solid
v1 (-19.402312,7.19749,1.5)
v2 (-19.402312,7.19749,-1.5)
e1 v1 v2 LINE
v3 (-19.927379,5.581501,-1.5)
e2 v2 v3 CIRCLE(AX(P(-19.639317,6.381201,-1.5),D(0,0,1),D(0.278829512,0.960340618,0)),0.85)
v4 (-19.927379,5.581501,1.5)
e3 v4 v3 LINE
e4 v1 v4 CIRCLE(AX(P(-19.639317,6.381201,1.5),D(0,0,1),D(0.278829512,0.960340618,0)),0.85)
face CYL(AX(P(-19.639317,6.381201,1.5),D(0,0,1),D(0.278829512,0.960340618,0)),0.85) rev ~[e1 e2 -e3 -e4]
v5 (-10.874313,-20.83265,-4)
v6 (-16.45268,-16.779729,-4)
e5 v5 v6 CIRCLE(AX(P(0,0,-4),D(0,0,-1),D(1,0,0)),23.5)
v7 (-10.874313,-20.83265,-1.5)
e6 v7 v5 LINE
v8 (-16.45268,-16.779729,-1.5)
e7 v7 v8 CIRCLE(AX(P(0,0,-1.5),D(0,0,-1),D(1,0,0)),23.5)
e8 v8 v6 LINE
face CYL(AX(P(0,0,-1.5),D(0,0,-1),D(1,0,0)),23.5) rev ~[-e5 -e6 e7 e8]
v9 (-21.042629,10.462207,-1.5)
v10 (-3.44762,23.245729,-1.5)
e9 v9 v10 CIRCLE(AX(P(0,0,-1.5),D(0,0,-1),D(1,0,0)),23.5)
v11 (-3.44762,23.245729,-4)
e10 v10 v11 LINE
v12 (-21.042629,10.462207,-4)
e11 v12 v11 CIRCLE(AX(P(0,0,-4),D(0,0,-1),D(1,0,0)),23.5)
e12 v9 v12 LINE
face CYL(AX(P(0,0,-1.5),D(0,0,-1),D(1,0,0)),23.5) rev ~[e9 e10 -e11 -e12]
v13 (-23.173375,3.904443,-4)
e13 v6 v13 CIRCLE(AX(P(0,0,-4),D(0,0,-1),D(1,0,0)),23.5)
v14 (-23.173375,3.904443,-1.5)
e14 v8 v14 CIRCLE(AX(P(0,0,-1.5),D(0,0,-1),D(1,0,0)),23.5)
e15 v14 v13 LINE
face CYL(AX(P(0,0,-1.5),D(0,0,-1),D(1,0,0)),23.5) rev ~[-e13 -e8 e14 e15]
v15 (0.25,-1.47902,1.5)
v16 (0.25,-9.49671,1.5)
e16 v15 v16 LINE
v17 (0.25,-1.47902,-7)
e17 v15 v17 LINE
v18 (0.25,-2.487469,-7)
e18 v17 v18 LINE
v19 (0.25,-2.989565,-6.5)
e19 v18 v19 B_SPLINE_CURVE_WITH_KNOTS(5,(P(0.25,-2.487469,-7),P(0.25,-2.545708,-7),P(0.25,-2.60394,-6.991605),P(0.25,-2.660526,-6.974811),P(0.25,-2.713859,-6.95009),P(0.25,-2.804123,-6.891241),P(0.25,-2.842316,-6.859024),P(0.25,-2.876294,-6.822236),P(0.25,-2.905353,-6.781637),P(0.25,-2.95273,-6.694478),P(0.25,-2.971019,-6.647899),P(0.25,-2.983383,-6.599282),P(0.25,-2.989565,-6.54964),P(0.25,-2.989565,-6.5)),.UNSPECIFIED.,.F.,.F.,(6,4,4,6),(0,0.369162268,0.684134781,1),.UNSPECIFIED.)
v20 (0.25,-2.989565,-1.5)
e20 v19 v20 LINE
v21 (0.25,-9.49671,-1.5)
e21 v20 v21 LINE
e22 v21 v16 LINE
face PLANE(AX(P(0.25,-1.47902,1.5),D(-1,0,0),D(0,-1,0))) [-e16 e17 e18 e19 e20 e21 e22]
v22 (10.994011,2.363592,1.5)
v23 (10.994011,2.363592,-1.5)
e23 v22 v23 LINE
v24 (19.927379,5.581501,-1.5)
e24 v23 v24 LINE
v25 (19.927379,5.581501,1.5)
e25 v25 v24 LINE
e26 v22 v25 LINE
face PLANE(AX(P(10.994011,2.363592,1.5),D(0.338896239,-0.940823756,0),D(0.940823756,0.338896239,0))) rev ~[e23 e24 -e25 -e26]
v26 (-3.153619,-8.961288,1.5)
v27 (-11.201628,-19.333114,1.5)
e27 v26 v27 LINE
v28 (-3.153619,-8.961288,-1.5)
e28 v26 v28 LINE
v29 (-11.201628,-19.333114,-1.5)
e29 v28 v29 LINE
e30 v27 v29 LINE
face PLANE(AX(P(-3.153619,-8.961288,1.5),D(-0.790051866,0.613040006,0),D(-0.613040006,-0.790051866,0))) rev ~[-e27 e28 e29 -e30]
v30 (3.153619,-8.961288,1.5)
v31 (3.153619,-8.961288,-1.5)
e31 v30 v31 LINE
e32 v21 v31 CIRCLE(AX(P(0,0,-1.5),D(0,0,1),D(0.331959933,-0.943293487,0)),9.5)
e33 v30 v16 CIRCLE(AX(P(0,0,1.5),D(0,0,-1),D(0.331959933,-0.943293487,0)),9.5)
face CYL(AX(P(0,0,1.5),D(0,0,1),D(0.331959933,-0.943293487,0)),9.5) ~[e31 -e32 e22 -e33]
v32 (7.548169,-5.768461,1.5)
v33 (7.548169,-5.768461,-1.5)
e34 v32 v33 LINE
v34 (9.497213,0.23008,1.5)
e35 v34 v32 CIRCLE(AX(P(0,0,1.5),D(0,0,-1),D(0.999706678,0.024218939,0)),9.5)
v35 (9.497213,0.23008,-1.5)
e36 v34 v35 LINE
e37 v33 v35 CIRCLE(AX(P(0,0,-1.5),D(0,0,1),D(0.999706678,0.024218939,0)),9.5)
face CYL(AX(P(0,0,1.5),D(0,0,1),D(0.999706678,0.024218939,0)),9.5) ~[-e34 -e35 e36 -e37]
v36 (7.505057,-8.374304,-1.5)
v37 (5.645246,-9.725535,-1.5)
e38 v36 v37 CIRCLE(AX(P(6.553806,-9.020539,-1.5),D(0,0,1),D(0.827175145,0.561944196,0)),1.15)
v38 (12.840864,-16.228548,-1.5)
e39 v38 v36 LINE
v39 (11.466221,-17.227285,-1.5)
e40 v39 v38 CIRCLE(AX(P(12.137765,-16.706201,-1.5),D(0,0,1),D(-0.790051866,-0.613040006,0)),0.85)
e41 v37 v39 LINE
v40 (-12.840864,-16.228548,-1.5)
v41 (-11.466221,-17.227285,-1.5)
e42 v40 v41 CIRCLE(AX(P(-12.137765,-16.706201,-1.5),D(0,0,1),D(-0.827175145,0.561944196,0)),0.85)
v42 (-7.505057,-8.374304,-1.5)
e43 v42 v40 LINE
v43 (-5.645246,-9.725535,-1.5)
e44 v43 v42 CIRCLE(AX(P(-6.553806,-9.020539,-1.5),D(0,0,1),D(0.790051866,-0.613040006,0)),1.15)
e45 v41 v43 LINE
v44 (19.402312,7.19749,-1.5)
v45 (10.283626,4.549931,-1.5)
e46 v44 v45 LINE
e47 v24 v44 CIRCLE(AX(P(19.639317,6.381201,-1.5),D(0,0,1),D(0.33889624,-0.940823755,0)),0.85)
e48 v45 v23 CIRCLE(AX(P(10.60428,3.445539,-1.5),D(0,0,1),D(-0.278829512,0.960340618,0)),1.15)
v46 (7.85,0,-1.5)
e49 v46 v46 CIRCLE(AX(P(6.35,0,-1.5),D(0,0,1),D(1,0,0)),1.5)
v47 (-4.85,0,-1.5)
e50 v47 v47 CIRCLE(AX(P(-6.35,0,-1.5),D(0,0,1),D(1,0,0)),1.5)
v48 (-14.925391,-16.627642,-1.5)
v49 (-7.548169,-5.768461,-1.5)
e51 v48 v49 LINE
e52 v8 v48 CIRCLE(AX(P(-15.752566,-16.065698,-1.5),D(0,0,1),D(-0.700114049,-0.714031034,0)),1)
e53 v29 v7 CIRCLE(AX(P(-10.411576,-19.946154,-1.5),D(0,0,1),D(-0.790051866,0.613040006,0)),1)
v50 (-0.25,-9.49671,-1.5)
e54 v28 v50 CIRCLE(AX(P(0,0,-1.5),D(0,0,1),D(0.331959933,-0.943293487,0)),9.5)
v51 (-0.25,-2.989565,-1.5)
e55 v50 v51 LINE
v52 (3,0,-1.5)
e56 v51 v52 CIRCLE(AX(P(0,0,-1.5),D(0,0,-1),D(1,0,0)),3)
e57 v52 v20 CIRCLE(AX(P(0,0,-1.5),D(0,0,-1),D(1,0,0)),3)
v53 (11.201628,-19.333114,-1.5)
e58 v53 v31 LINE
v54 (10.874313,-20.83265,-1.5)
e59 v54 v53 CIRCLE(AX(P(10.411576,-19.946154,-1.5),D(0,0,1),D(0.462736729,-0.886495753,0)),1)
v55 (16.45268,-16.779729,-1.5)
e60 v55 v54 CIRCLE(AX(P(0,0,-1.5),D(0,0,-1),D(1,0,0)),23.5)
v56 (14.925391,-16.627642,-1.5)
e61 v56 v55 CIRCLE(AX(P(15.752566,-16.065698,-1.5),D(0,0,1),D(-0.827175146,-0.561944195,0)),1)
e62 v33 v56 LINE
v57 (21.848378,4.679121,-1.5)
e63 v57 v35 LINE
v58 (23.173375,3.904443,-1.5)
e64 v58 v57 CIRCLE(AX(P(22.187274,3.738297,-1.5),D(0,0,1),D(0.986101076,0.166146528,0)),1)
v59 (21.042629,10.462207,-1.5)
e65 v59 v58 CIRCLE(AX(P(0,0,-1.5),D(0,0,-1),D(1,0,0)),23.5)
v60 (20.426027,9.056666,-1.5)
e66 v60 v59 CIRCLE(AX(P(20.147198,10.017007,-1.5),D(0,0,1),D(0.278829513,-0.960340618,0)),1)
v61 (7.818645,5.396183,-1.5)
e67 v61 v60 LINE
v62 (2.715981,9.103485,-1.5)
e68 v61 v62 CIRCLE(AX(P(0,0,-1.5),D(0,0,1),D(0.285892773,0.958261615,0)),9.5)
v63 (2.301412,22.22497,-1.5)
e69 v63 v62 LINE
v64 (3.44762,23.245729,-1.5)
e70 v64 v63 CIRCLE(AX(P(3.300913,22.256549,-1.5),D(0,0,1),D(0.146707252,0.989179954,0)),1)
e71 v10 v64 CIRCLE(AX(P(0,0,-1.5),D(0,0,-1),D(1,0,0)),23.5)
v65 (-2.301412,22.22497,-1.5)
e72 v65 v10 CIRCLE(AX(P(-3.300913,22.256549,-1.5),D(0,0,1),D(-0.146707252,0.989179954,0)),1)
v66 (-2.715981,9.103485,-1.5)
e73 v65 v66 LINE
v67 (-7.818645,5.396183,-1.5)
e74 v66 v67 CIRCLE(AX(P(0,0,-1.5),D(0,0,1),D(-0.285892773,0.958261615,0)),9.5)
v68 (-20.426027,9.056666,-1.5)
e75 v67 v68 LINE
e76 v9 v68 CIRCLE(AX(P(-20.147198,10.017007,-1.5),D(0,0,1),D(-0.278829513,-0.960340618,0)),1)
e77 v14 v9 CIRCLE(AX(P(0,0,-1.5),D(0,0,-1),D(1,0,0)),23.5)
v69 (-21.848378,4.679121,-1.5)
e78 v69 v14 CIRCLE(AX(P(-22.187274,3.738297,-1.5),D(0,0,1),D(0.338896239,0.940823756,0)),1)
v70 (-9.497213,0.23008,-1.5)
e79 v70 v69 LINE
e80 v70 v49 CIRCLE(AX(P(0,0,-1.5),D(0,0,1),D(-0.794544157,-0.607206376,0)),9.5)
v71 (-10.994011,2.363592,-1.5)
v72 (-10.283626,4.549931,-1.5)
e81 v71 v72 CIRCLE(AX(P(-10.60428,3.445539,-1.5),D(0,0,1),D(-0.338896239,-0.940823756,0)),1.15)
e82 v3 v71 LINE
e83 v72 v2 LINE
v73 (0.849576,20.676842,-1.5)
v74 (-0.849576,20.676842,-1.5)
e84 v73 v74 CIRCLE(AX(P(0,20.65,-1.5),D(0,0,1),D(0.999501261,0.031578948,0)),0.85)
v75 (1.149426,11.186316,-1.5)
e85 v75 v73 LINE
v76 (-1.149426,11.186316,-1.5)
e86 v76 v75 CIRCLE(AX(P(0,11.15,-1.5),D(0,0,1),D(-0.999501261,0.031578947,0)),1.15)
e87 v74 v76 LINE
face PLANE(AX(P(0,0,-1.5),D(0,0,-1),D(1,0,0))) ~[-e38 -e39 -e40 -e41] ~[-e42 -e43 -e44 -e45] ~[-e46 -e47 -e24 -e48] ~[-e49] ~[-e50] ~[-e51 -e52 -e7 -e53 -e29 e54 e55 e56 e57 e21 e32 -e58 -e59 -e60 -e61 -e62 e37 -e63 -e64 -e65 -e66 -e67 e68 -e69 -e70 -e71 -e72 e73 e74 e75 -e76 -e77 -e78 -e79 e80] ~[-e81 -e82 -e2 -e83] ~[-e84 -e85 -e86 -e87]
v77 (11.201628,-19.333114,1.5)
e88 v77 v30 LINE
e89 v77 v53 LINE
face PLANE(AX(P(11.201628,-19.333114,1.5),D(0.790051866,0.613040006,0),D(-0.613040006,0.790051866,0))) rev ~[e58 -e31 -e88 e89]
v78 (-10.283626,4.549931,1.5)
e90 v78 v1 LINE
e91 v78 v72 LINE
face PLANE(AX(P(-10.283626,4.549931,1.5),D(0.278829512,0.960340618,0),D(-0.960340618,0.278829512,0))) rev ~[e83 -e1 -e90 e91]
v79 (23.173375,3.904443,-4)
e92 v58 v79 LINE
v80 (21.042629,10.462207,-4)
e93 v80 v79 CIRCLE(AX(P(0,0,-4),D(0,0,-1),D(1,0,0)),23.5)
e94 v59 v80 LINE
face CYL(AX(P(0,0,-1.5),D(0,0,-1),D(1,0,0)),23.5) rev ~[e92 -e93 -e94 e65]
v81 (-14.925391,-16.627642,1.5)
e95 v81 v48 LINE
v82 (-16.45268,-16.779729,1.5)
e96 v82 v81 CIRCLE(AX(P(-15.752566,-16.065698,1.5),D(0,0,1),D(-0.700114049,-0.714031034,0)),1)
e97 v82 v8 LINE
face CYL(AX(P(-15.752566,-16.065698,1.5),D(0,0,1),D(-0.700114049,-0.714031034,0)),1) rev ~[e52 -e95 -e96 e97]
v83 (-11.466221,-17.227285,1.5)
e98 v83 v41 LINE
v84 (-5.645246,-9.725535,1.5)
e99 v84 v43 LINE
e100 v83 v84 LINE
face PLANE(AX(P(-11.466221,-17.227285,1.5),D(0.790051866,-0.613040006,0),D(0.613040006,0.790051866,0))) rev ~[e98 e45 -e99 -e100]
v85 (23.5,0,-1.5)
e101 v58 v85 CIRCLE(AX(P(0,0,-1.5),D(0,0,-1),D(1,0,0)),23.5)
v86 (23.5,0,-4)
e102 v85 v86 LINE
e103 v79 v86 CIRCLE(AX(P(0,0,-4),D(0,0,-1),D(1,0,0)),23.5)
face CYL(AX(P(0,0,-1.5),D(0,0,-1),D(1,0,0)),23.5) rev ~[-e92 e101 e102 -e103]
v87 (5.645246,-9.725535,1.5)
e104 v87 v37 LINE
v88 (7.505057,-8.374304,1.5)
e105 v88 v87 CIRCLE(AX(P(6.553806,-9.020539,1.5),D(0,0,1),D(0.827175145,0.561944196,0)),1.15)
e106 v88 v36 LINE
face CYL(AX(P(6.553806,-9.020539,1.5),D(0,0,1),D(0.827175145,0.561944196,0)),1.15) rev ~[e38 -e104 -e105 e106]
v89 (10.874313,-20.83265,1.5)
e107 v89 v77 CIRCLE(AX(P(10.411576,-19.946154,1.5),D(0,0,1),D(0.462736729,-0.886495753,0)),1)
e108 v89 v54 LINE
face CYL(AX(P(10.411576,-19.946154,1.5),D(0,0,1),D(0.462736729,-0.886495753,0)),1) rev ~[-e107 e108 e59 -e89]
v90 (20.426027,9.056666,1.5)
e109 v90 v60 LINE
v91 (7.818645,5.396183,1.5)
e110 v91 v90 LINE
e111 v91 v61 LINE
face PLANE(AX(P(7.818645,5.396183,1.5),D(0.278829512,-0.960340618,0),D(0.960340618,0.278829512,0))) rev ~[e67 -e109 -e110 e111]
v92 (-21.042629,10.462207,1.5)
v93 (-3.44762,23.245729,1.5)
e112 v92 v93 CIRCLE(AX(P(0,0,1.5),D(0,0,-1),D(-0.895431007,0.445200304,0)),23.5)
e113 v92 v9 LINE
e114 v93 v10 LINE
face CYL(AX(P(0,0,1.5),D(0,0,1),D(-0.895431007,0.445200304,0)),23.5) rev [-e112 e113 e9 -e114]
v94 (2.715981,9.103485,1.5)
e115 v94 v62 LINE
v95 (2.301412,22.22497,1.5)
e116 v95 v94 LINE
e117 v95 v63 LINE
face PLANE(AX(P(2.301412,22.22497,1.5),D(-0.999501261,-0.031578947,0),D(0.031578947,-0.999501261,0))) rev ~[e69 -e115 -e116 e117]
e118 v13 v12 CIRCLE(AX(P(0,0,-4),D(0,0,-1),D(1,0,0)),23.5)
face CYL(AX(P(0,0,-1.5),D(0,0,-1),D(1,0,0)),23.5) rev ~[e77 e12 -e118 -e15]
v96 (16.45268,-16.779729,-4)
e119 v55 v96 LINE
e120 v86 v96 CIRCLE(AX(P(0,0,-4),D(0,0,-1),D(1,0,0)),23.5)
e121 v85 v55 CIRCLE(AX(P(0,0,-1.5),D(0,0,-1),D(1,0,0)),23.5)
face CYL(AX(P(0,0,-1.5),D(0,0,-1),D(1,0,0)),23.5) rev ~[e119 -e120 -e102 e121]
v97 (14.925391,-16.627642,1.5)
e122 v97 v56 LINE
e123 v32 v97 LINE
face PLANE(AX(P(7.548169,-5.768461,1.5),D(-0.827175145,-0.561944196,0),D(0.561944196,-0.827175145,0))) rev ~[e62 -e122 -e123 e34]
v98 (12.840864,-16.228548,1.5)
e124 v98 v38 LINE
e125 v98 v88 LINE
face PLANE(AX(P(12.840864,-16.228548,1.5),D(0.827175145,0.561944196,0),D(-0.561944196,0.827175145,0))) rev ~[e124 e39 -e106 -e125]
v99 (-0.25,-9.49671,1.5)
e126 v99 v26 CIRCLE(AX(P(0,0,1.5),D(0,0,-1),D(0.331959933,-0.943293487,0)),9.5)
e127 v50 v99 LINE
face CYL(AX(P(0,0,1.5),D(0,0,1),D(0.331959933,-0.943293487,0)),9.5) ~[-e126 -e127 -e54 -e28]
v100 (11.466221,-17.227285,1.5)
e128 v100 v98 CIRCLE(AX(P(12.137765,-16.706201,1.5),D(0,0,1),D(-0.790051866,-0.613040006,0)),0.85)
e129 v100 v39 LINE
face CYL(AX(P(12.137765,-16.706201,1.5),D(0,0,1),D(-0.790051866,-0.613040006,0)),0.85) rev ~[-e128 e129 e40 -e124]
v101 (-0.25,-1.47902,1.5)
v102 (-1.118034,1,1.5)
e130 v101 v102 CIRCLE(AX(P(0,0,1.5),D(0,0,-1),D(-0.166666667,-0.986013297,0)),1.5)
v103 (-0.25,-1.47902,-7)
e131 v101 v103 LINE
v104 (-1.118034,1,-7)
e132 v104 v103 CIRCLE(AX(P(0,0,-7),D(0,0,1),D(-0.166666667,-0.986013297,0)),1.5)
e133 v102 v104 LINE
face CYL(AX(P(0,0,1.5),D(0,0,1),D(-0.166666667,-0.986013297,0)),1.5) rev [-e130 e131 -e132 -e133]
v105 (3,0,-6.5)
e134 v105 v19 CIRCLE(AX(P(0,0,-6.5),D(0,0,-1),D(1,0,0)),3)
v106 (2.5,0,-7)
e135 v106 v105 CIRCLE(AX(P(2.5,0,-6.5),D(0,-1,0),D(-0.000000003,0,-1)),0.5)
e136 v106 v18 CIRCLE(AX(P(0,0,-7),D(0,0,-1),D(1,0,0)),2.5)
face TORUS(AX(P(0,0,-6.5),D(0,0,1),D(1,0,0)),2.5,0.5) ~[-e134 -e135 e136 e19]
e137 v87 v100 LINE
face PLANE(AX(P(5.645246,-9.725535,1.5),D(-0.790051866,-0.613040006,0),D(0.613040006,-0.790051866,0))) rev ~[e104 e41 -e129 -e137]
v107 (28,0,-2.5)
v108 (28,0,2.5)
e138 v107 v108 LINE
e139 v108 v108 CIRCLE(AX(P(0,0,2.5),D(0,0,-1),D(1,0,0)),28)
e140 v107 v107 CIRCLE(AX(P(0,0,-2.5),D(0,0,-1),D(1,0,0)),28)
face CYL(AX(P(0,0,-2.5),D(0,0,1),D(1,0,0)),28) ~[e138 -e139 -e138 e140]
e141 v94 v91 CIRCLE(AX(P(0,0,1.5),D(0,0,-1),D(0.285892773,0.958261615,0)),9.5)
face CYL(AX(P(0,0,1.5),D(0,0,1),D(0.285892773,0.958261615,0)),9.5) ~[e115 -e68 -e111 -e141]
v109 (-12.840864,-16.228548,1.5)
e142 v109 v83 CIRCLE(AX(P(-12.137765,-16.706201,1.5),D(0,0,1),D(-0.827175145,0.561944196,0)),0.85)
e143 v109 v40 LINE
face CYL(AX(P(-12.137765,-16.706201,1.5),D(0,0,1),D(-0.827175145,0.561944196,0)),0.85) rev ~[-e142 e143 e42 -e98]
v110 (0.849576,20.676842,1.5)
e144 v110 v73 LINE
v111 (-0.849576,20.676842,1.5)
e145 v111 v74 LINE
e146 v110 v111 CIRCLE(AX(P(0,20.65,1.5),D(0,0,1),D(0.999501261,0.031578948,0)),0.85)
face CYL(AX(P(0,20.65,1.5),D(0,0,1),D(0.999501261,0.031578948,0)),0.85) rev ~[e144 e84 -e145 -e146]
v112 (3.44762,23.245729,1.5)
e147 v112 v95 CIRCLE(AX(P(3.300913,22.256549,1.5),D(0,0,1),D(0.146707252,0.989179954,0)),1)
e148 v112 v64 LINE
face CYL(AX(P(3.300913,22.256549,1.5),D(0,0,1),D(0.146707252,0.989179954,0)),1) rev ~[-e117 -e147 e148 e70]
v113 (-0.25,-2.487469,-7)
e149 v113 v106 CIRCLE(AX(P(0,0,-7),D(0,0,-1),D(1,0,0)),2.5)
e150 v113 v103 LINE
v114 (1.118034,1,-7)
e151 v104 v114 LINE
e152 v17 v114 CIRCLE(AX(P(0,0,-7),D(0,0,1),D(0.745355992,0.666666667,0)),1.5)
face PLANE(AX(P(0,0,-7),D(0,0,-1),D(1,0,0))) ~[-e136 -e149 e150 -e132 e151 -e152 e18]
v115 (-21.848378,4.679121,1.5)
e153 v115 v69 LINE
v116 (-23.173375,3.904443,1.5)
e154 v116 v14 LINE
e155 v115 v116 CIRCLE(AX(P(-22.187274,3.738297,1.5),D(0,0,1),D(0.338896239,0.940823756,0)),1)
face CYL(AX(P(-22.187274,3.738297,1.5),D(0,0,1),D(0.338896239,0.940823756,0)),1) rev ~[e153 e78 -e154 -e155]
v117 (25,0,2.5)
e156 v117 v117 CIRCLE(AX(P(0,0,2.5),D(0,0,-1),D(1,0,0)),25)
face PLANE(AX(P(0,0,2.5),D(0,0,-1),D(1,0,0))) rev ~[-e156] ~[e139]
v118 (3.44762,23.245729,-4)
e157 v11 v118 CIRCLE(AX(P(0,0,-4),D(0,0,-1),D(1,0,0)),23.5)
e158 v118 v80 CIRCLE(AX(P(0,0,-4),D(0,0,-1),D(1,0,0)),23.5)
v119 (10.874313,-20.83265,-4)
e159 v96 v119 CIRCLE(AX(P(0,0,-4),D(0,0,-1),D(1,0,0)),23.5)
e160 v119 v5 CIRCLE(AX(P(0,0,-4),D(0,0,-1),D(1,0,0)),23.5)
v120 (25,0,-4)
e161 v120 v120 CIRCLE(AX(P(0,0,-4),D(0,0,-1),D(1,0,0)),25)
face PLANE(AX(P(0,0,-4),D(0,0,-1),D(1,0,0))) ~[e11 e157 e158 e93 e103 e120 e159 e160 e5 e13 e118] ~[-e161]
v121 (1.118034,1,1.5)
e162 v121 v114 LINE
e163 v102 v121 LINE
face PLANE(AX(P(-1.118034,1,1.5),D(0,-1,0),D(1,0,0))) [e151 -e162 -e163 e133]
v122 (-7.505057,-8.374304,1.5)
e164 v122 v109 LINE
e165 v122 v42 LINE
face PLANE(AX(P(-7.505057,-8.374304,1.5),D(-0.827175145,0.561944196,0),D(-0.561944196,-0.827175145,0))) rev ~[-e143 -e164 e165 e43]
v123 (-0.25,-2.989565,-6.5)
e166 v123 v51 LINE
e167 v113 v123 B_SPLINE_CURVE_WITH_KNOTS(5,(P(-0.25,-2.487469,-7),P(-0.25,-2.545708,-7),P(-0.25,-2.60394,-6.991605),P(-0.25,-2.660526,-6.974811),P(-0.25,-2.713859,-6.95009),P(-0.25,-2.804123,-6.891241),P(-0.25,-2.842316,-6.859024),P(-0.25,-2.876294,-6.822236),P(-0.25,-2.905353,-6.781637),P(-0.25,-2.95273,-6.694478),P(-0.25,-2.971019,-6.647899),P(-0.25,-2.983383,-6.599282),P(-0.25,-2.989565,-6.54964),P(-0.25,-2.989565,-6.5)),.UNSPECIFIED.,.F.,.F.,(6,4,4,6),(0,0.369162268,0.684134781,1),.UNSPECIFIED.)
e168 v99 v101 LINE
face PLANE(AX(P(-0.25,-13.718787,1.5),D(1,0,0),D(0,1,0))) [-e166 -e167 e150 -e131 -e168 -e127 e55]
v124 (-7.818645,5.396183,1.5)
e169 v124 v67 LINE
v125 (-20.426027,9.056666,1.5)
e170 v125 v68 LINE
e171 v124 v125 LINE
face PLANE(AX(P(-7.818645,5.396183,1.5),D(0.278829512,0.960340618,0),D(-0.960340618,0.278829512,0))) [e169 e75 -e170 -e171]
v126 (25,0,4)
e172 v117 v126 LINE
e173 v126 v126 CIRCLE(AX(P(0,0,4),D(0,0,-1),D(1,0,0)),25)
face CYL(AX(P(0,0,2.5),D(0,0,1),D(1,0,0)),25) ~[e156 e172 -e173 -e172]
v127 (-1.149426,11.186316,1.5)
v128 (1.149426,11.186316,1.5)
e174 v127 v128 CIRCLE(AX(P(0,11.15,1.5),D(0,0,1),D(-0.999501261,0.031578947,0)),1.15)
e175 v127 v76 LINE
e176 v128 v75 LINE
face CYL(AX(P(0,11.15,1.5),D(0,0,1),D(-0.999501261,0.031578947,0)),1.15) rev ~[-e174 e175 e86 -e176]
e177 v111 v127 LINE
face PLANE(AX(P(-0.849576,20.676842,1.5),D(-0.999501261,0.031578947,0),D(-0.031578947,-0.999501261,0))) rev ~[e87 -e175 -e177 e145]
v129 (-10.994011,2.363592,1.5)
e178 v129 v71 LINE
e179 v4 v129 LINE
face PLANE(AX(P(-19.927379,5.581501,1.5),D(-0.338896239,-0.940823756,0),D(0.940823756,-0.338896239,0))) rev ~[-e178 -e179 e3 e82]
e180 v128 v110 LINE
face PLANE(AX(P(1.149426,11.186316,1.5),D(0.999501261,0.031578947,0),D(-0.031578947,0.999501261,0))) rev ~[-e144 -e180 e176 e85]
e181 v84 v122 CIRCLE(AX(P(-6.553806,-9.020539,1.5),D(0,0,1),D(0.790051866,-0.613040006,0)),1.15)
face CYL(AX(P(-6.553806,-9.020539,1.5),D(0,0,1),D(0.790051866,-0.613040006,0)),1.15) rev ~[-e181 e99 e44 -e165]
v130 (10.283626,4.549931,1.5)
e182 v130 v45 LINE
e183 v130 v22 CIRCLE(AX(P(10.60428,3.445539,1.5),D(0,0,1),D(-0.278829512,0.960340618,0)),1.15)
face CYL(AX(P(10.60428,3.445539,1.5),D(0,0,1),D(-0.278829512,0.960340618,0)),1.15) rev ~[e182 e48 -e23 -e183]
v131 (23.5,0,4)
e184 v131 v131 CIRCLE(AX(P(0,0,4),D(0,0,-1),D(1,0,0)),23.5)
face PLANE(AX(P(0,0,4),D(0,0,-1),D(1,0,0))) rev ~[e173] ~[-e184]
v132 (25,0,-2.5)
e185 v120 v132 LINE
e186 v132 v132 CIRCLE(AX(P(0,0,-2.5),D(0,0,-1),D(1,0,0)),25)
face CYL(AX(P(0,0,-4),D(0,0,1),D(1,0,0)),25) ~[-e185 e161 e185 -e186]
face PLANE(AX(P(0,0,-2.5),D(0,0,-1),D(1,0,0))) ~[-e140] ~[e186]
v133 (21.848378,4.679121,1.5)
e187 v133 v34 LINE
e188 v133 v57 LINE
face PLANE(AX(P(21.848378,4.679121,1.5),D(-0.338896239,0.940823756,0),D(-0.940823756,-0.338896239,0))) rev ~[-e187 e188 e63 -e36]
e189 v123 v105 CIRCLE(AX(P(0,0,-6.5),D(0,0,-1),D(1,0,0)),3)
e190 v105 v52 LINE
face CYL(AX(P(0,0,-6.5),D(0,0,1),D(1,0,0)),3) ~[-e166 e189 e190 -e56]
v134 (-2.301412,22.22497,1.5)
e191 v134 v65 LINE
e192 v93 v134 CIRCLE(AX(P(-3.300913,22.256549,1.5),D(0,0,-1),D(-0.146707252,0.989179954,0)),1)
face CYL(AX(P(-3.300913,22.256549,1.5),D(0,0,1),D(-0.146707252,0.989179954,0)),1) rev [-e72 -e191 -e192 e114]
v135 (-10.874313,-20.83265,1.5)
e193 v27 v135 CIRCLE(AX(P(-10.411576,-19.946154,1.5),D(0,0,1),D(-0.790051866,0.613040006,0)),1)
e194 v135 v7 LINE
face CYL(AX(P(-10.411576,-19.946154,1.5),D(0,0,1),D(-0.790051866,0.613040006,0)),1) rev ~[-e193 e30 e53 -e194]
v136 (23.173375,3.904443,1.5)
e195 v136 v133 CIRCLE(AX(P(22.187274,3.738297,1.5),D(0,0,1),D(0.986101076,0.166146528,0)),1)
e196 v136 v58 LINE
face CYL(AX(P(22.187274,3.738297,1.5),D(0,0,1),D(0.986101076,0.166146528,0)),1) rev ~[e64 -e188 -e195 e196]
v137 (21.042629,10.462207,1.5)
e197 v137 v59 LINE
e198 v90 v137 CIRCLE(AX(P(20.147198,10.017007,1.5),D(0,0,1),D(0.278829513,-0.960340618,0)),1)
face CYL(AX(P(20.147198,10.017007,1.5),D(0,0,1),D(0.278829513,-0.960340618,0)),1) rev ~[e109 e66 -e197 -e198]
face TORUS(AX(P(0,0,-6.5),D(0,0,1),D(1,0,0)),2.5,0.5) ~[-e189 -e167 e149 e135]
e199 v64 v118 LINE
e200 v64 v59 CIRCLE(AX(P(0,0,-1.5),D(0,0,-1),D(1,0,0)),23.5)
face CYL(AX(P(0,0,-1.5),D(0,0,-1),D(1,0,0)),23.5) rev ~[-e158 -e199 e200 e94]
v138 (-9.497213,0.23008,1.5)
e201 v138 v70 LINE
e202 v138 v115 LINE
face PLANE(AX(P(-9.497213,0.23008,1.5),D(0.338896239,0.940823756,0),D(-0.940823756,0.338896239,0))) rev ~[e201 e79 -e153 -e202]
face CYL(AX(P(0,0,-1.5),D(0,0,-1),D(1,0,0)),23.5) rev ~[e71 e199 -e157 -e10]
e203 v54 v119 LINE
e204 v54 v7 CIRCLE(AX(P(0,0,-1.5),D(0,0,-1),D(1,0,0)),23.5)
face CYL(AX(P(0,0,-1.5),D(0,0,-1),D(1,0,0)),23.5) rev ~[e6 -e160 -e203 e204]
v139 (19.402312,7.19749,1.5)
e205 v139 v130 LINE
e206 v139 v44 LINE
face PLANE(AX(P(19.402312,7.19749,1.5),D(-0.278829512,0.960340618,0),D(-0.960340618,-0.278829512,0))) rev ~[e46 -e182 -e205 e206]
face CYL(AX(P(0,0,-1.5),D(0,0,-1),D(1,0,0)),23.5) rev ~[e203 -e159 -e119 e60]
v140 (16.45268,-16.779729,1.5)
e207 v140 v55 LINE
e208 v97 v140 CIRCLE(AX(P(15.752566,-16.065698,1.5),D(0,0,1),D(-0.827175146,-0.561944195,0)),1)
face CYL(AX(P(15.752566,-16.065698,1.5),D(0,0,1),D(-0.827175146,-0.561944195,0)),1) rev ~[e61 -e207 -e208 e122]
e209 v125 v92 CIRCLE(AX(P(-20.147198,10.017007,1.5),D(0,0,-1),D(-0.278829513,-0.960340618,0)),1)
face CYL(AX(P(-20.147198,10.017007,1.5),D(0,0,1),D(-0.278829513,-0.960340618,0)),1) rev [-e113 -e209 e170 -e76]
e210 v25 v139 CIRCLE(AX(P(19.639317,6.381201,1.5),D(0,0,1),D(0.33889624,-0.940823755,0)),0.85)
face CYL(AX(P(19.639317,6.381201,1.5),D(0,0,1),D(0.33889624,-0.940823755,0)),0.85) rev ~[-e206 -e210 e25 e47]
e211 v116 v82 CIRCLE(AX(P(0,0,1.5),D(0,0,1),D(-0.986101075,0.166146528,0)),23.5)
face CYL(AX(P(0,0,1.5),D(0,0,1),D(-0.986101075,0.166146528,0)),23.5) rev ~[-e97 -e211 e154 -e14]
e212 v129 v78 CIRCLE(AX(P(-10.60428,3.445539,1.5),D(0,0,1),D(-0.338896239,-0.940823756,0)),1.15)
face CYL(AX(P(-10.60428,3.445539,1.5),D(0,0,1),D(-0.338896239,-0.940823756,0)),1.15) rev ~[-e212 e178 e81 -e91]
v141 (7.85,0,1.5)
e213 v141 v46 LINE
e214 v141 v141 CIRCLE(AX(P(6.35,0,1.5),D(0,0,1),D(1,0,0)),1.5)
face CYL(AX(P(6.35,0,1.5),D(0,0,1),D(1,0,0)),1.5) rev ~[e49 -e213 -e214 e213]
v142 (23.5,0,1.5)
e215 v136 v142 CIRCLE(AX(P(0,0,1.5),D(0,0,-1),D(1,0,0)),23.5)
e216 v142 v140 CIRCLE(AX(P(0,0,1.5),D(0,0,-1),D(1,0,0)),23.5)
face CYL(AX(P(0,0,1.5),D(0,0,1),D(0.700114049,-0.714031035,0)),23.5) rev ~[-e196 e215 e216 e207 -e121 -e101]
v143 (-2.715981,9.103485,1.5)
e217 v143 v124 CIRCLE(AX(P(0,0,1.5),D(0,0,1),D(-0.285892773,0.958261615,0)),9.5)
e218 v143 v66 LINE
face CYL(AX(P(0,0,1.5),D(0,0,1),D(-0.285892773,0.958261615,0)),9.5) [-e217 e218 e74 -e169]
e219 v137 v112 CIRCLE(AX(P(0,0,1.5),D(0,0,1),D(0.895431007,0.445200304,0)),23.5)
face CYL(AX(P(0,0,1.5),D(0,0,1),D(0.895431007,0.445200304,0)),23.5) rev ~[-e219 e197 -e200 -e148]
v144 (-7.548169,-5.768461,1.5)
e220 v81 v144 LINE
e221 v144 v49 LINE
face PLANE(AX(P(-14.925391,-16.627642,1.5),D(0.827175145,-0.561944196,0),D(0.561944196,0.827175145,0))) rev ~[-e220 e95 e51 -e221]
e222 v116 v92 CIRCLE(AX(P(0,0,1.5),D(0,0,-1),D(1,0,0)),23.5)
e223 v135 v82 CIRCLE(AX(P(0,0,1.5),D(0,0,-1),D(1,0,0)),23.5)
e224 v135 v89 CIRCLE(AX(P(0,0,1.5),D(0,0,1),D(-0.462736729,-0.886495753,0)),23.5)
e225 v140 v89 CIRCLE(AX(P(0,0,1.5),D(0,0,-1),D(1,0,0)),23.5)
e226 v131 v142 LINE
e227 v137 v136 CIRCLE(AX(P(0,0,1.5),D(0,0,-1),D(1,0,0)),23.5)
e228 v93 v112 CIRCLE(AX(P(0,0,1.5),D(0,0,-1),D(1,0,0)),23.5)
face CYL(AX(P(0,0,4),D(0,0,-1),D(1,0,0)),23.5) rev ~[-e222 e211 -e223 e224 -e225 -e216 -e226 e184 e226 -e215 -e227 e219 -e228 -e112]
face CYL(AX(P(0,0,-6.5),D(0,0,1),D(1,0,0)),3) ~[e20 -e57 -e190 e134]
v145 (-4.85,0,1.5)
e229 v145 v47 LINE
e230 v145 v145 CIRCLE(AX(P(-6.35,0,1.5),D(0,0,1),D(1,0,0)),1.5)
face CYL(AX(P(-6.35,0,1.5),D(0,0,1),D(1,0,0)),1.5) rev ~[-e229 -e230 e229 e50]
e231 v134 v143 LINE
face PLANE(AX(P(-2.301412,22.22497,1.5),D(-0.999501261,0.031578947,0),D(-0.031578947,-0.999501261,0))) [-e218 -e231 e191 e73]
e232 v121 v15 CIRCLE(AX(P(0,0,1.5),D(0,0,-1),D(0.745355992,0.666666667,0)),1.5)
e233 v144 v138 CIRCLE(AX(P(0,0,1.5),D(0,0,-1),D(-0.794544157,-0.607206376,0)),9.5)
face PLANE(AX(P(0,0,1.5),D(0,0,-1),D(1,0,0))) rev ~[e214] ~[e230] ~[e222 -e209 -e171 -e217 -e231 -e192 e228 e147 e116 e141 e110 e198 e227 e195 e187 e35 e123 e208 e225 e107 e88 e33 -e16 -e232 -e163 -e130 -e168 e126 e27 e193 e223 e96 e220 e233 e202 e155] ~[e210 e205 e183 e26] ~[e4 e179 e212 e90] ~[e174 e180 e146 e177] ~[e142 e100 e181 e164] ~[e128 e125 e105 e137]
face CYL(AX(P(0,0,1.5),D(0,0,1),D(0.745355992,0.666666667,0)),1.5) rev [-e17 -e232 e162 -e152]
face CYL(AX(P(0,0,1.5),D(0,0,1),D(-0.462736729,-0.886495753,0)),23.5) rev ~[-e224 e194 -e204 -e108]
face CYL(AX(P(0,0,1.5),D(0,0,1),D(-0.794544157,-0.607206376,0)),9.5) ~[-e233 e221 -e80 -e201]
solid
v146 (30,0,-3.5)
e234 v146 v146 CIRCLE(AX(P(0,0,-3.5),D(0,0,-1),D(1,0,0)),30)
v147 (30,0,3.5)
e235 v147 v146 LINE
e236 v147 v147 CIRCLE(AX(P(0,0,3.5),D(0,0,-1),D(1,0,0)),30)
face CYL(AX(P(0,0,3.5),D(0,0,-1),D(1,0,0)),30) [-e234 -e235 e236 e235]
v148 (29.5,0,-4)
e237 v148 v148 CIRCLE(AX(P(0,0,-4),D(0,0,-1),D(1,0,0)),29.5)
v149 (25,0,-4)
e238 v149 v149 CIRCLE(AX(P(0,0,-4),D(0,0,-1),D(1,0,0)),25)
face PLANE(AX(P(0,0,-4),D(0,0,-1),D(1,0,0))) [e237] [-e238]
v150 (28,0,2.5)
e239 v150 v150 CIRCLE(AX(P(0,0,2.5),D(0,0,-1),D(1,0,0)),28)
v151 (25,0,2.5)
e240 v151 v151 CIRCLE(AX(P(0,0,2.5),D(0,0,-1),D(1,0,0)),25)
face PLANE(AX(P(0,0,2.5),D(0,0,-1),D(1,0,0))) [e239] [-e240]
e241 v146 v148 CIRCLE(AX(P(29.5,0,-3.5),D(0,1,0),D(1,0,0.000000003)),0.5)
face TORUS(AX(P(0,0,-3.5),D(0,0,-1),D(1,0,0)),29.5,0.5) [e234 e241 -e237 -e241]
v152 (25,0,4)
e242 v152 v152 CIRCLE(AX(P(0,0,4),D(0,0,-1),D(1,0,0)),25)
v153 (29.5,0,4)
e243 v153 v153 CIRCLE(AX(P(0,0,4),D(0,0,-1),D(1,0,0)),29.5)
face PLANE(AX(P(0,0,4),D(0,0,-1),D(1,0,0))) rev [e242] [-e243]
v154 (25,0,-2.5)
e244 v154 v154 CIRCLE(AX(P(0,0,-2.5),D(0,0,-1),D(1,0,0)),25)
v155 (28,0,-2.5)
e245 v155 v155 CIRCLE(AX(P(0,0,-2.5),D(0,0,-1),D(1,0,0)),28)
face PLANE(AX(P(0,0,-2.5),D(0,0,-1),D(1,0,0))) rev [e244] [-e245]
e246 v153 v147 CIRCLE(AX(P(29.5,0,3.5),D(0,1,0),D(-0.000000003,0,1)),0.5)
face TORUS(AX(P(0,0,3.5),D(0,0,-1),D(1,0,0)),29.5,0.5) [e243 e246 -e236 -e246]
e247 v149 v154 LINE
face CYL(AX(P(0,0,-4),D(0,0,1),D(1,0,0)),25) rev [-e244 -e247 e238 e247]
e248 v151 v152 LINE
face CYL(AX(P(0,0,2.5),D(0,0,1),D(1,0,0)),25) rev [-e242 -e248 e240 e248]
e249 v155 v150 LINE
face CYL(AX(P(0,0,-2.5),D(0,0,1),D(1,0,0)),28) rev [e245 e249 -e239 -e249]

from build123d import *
from build123d.topology import SkipClean

# Parameters (mm, degrees)
ODEBRAT_VYSUNUT_M1_DEPTH = 41.5
ODEBRAT_VYSUNUT_M2_DEPTH = 41.5
SKICA6_R                 = 1.5
ODEBRAT_VYSUNUT_M3_DEPTH = 44.269504292


with BuildPart() as part:
    # Skica2 → Rotovat1 (revolve)
    with BuildSketch(Plane(origin=(0, 0, 0), x_dir=(0, 0, -1), z_dir=(1, 0, 0)), mode=Mode.PRIVATE) as rotovat1_sk:
        with BuildLine():
            Line((-1.5, 23.5), (-1.5, 0))
            Line((-1.5, 0), (7, 0))
            Line((7, 0), (7, 2.5))
            ThreePointArc((7, 2.5), (6.853553391, 2.853553391), (6.5, 3))
            Line((6.5, 3), (1.5, 3))
            Line((1.5, 3), (1.5, 23.5))
            Line((1.5, 23.5), (4, 23.5))
            Line((4, 23.5), (4, 25))
            Line((4, 25), (2.5, 25))
            Line((2.5, 25), (2.5, 28))
            Line((2.5, 28), (-2.5, 28))
            Line((-2.5, 28), (-2.5, 25))
            Line((-2.5, 25), (-4, 25))
            Line((-4, 25), (-4, 23.5))
            Line((-4, 23.5), (-1.5, 23.5))
        make_face()
    revolve(rotovat1_sk.sketch.rotate(Axis((0, 0, 36.988949001), (0, 0, -1)), 90), axis=Axis((0, 0, 36.988949001), (0, 0, -1)))

    # Skica3 → Odebrat vysunutím1 (cut, through all)
    with SkipClean():  # the faces are left unmerged after this step: merging them gives an invalid solid
        with BuildSketch(Plane.XY.offset(1.5)):
            with BuildLine():
                Line((-2.301411909, 22.224970027), (-2.715981345, 9.10348534))
                ThreePointArc((-2.715981345, 9.10348534), (-5.583959897, 7.685661447), (-7.818644661, 5.396183435))
                Line((-7.818644661, 5.396183435), (-20.426027178, 9.056666231))
                ThreePointArc((-20.426027178, 9.056666231), (-21.062953235, 9.615270945), (-21.042628673, 10.462207153))
                ThreePointArc((-21.042628673, 10.462207153), (-13.812953429, 19.011899368), (-3.447620422, 23.245728929))
                ThreePointArc((-3.447620422, 23.245728929), (-2.635855586, 23.003341054), (-2.301411909, 22.224970027))
            make_face()
            with BuildLine():
                Line((-0.849576072, 20.676842105), (-1.14942645, 11.186315789))
                ThreePointArc((-1.14942645, 11.186315789), (0, 10), (1.14942645, 11.186315789))
                Line((1.14942645, 11.186315789), (0.849576072, 20.676842105))
                ThreePointArc((0.849576072, 20.676842105), (0, 21.5), (-0.849576072, 20.676842105))
            make_face()
            with BuildLine():
                Line((2.301411909, 22.224970027), (2.715981345, 9.10348534))
                ThreePointArc((2.715981345, 9.10348534), (5.583959897, 7.685661447), (7.818644661, 5.396183435))
                Line((7.818644661, 5.396183435), (20.426027178, 9.056666231))
                ThreePointArc((20.426027178, 9.056666231), (21.062953235, 9.615270945), (21.042628673, 10.462207153))
                ThreePointArc((21.042628673, 10.462207153), (13.812953429, 19.011899368), (3.447620422, 23.245728929))
                ThreePointArc((3.447620422, 23.245728929), (2.635855586, 23.003341054), (2.301411909, 22.224970027))
            make_face()
            with BuildLine():
                Line((19.402311976, 7.197490459), (10.283626218, 4.549931198))
                ThreePointArc((10.283626218, 4.549931198), (9.510565163, 3.090169944), (10.994010832, 2.363592168))
                Line((10.994010832, 2.363592168), (19.927378865, 5.581500742))
                ThreePointArc((19.927378865, 5.581500742), (20.4477151, 6.643865379), (19.402311976, 7.197490459))
            make_face()
            with BuildLine():
                Line((21.84837796, 4.679120645), (9.497213446, 0.230079921))
                ThreePointArc((9.497213446, 0.230079921), (9.035036905, -2.935661447), (7.548169492, -5.768460568))
                Line((7.548169492, -5.768460568), (14.92539096, -16.627642472))
                ThreePointArc((14.92539096, -16.627642472), (15.653476589, -17.0607768), (16.452680154, -16.779729311))
                ThreePointArc((16.452680154, -16.779729311), (22.349828133, -7.261899368), (23.173375274, 3.904443418))
                ThreePointArc((23.173375274, 3.904443418), (22.692001577, 4.601575682), (21.84837796, 4.679120645))
            make_face()
            with BuildLine():
                Line((12.840864333, -16.228548368), (7.50505698, -8.374303662))
                ThreePointArc((7.50505698, -8.374303662), (5.877852523, -8.090169944), (5.645245917, -9.725535494))
                Line((5.645245917, -9.725535494), (11.466221374, -17.227284939))
                ThreePointArc((11.466221374, -17.227284939), (12.637382924, -17.393865379), (12.840864333, -16.228548368))
            make_face()
            with BuildLine():
                Line((11.201628269, -19.333114431), (3.153619362, -8.961288128))
                ThreePointArc((3.153619362, -8.961288128), (0, -9.5), (-3.153619362, -8.961288128))
                Line((-3.153619362, -8.961288128), (-11.201628269, -19.333114431))
                ThreePointArc((-11.201628269, -19.333114431), (-11.388572661, -20.159410881), (-10.874313132, -20.832650189))
                ThreePointArc((-10.874313132, -20.832650189), (0, -23.5), (10.874313132, -20.832650189))
                ThreePointArc((10.874313132, -20.832650189), (11.388572661, -20.159410881), (11.201628269, -19.333114431))
            make_face()
            with BuildLine():
                Line((-11.466221374, -17.227284939), (-5.645245917, -9.725535494))
                ThreePointArc((-5.645245917, -9.725535494), (-5.877852523, -8.090169944), (-7.50505698, -8.374303662))
                Line((-7.50505698, -8.374303662), (-12.840864333, -16.228548368))
                ThreePointArc((-12.840864333, -16.228548368), (-12.637382924, -17.393865379), (-11.466221374, -17.227284939))
            make_face()
            with BuildLine():
                Line((-14.92539096, -16.627642472), (-7.548169492, -5.768460568))
                ThreePointArc((-7.548169492, -5.768460568), (-9.035036905, -2.935661447), (-9.497213446, 0.230079921))
                Line((-9.497213446, 0.230079921), (-21.84837796, 4.679120645))
                ThreePointArc((-21.84837796, 4.679120645), (-22.692001577, 4.601575682), (-23.173375274, 3.904443418))
                ThreePointArc((-23.173375274, 3.904443418), (-22.349828133, -7.261899368), (-16.452680154, -16.779729311))
                ThreePointArc((-16.452680154, -16.779729311), (-15.653476589, -17.0607768), (-14.92539096, -16.627642472))
            make_face()
            with BuildLine():
                Line((-19.927378865, 5.581500742), (-10.994010832, 2.363592168))
                ThreePointArc((-10.994010832, 2.363592168), (-9.510565163, 3.090169944), (-10.283626218, 4.549931198))
                Line((-10.283626218, 4.549931198), (-19.402311976, 7.197490459))
                ThreePointArc((-19.402311976, 7.197490459), (-20.4477151, 6.643865379), (-19.927378865, 5.581500742))
            make_face()
        extrude(amount=-ODEBRAT_VYSUNUT_M1_DEPTH, mode=Mode.SUBTRACT)

    # Skica4 → Odebrat vysunutím2 (cut, through all)
    with SkipClean():  # the faces are left unmerged after this step: merging them gives an invalid solid
        with BuildSketch(Plane.XY.offset(1.5)):
            with BuildLine():
                Line((-1.118033989, 1), (1.118033989, 1))
                ThreePointArc((1.118033989, 1), (1.41572039, -0.495717438), (0.25, -1.479019946))
                Line((0.25, -1.479019946), (0.25, -13.718786792))
                Line((0.25, -13.718786792), (-0.25, -13.718786792))
                Line((-0.25, -13.718786792), (-0.25, -1.479019946))
                ThreePointArc((-0.25, -1.479019946), (-1.41572039, -0.495717438), (-1.118033989, 1))
            make_face()
        extrude(amount=-ODEBRAT_VYSUNUT_M2_DEPTH, mode=Mode.SUBTRACT)

    # Skica6 → Odebrat vysunutím3 (cut, through all)
    with SkipClean():  # the faces are left unmerged after this step: merging them gives an invalid solid
        with BuildSketch(Plane.XY.offset(1.5)):
            with Locations((-6.35, 0)):
                Circle(SKICA6_R)
            with Locations((6.35, 0)):
                Circle(SKICA6_R)
        extrude(amount=-ODEBRAT_VYSUNUT_M3_DEPTH, mode=Mode.SUBTRACT)


with BuildPart() as body_2:
    # Skica5 → Rotovat2 (revolve)
    with BuildSketch(Plane(origin=(0, 0, 0), x_dir=(0, 0, -1), z_dir=(1, 0, 0)), mode=Mode.PRIVATE) as rotovat2_sk:
        with BuildLine():
            Line((-4, 25), (-4, 29.5))
            ThreePointArc((-4, 29.5), (-3.853553391, 29.853553391), (-3.5, 30))
            Line((-3.5, 30), (3.5, 30))
            ThreePointArc((3.5, 30), (3.853553391, 29.853553391), (4, 29.5))
            Line((4, 29.5), (4, 25))
            Line((4, 25), (2.5, 25))
            Line((2.5, 25), (2.5, 28))
            Line((2.5, 28), (-2.5, 28))
            Line((-2.5, 28), (-2.5, 25))
            Line((-2.5, 25), (-4, 25))
        make_face()
    revolve(rotovat2_sk.sketch.rotate(Axis((0, 0, 0), (0, 0, -1)), 90), axis=Axis((0, 0, 0), (0, 0, -1)))


solid = Compound([part.part, body_2.part])
